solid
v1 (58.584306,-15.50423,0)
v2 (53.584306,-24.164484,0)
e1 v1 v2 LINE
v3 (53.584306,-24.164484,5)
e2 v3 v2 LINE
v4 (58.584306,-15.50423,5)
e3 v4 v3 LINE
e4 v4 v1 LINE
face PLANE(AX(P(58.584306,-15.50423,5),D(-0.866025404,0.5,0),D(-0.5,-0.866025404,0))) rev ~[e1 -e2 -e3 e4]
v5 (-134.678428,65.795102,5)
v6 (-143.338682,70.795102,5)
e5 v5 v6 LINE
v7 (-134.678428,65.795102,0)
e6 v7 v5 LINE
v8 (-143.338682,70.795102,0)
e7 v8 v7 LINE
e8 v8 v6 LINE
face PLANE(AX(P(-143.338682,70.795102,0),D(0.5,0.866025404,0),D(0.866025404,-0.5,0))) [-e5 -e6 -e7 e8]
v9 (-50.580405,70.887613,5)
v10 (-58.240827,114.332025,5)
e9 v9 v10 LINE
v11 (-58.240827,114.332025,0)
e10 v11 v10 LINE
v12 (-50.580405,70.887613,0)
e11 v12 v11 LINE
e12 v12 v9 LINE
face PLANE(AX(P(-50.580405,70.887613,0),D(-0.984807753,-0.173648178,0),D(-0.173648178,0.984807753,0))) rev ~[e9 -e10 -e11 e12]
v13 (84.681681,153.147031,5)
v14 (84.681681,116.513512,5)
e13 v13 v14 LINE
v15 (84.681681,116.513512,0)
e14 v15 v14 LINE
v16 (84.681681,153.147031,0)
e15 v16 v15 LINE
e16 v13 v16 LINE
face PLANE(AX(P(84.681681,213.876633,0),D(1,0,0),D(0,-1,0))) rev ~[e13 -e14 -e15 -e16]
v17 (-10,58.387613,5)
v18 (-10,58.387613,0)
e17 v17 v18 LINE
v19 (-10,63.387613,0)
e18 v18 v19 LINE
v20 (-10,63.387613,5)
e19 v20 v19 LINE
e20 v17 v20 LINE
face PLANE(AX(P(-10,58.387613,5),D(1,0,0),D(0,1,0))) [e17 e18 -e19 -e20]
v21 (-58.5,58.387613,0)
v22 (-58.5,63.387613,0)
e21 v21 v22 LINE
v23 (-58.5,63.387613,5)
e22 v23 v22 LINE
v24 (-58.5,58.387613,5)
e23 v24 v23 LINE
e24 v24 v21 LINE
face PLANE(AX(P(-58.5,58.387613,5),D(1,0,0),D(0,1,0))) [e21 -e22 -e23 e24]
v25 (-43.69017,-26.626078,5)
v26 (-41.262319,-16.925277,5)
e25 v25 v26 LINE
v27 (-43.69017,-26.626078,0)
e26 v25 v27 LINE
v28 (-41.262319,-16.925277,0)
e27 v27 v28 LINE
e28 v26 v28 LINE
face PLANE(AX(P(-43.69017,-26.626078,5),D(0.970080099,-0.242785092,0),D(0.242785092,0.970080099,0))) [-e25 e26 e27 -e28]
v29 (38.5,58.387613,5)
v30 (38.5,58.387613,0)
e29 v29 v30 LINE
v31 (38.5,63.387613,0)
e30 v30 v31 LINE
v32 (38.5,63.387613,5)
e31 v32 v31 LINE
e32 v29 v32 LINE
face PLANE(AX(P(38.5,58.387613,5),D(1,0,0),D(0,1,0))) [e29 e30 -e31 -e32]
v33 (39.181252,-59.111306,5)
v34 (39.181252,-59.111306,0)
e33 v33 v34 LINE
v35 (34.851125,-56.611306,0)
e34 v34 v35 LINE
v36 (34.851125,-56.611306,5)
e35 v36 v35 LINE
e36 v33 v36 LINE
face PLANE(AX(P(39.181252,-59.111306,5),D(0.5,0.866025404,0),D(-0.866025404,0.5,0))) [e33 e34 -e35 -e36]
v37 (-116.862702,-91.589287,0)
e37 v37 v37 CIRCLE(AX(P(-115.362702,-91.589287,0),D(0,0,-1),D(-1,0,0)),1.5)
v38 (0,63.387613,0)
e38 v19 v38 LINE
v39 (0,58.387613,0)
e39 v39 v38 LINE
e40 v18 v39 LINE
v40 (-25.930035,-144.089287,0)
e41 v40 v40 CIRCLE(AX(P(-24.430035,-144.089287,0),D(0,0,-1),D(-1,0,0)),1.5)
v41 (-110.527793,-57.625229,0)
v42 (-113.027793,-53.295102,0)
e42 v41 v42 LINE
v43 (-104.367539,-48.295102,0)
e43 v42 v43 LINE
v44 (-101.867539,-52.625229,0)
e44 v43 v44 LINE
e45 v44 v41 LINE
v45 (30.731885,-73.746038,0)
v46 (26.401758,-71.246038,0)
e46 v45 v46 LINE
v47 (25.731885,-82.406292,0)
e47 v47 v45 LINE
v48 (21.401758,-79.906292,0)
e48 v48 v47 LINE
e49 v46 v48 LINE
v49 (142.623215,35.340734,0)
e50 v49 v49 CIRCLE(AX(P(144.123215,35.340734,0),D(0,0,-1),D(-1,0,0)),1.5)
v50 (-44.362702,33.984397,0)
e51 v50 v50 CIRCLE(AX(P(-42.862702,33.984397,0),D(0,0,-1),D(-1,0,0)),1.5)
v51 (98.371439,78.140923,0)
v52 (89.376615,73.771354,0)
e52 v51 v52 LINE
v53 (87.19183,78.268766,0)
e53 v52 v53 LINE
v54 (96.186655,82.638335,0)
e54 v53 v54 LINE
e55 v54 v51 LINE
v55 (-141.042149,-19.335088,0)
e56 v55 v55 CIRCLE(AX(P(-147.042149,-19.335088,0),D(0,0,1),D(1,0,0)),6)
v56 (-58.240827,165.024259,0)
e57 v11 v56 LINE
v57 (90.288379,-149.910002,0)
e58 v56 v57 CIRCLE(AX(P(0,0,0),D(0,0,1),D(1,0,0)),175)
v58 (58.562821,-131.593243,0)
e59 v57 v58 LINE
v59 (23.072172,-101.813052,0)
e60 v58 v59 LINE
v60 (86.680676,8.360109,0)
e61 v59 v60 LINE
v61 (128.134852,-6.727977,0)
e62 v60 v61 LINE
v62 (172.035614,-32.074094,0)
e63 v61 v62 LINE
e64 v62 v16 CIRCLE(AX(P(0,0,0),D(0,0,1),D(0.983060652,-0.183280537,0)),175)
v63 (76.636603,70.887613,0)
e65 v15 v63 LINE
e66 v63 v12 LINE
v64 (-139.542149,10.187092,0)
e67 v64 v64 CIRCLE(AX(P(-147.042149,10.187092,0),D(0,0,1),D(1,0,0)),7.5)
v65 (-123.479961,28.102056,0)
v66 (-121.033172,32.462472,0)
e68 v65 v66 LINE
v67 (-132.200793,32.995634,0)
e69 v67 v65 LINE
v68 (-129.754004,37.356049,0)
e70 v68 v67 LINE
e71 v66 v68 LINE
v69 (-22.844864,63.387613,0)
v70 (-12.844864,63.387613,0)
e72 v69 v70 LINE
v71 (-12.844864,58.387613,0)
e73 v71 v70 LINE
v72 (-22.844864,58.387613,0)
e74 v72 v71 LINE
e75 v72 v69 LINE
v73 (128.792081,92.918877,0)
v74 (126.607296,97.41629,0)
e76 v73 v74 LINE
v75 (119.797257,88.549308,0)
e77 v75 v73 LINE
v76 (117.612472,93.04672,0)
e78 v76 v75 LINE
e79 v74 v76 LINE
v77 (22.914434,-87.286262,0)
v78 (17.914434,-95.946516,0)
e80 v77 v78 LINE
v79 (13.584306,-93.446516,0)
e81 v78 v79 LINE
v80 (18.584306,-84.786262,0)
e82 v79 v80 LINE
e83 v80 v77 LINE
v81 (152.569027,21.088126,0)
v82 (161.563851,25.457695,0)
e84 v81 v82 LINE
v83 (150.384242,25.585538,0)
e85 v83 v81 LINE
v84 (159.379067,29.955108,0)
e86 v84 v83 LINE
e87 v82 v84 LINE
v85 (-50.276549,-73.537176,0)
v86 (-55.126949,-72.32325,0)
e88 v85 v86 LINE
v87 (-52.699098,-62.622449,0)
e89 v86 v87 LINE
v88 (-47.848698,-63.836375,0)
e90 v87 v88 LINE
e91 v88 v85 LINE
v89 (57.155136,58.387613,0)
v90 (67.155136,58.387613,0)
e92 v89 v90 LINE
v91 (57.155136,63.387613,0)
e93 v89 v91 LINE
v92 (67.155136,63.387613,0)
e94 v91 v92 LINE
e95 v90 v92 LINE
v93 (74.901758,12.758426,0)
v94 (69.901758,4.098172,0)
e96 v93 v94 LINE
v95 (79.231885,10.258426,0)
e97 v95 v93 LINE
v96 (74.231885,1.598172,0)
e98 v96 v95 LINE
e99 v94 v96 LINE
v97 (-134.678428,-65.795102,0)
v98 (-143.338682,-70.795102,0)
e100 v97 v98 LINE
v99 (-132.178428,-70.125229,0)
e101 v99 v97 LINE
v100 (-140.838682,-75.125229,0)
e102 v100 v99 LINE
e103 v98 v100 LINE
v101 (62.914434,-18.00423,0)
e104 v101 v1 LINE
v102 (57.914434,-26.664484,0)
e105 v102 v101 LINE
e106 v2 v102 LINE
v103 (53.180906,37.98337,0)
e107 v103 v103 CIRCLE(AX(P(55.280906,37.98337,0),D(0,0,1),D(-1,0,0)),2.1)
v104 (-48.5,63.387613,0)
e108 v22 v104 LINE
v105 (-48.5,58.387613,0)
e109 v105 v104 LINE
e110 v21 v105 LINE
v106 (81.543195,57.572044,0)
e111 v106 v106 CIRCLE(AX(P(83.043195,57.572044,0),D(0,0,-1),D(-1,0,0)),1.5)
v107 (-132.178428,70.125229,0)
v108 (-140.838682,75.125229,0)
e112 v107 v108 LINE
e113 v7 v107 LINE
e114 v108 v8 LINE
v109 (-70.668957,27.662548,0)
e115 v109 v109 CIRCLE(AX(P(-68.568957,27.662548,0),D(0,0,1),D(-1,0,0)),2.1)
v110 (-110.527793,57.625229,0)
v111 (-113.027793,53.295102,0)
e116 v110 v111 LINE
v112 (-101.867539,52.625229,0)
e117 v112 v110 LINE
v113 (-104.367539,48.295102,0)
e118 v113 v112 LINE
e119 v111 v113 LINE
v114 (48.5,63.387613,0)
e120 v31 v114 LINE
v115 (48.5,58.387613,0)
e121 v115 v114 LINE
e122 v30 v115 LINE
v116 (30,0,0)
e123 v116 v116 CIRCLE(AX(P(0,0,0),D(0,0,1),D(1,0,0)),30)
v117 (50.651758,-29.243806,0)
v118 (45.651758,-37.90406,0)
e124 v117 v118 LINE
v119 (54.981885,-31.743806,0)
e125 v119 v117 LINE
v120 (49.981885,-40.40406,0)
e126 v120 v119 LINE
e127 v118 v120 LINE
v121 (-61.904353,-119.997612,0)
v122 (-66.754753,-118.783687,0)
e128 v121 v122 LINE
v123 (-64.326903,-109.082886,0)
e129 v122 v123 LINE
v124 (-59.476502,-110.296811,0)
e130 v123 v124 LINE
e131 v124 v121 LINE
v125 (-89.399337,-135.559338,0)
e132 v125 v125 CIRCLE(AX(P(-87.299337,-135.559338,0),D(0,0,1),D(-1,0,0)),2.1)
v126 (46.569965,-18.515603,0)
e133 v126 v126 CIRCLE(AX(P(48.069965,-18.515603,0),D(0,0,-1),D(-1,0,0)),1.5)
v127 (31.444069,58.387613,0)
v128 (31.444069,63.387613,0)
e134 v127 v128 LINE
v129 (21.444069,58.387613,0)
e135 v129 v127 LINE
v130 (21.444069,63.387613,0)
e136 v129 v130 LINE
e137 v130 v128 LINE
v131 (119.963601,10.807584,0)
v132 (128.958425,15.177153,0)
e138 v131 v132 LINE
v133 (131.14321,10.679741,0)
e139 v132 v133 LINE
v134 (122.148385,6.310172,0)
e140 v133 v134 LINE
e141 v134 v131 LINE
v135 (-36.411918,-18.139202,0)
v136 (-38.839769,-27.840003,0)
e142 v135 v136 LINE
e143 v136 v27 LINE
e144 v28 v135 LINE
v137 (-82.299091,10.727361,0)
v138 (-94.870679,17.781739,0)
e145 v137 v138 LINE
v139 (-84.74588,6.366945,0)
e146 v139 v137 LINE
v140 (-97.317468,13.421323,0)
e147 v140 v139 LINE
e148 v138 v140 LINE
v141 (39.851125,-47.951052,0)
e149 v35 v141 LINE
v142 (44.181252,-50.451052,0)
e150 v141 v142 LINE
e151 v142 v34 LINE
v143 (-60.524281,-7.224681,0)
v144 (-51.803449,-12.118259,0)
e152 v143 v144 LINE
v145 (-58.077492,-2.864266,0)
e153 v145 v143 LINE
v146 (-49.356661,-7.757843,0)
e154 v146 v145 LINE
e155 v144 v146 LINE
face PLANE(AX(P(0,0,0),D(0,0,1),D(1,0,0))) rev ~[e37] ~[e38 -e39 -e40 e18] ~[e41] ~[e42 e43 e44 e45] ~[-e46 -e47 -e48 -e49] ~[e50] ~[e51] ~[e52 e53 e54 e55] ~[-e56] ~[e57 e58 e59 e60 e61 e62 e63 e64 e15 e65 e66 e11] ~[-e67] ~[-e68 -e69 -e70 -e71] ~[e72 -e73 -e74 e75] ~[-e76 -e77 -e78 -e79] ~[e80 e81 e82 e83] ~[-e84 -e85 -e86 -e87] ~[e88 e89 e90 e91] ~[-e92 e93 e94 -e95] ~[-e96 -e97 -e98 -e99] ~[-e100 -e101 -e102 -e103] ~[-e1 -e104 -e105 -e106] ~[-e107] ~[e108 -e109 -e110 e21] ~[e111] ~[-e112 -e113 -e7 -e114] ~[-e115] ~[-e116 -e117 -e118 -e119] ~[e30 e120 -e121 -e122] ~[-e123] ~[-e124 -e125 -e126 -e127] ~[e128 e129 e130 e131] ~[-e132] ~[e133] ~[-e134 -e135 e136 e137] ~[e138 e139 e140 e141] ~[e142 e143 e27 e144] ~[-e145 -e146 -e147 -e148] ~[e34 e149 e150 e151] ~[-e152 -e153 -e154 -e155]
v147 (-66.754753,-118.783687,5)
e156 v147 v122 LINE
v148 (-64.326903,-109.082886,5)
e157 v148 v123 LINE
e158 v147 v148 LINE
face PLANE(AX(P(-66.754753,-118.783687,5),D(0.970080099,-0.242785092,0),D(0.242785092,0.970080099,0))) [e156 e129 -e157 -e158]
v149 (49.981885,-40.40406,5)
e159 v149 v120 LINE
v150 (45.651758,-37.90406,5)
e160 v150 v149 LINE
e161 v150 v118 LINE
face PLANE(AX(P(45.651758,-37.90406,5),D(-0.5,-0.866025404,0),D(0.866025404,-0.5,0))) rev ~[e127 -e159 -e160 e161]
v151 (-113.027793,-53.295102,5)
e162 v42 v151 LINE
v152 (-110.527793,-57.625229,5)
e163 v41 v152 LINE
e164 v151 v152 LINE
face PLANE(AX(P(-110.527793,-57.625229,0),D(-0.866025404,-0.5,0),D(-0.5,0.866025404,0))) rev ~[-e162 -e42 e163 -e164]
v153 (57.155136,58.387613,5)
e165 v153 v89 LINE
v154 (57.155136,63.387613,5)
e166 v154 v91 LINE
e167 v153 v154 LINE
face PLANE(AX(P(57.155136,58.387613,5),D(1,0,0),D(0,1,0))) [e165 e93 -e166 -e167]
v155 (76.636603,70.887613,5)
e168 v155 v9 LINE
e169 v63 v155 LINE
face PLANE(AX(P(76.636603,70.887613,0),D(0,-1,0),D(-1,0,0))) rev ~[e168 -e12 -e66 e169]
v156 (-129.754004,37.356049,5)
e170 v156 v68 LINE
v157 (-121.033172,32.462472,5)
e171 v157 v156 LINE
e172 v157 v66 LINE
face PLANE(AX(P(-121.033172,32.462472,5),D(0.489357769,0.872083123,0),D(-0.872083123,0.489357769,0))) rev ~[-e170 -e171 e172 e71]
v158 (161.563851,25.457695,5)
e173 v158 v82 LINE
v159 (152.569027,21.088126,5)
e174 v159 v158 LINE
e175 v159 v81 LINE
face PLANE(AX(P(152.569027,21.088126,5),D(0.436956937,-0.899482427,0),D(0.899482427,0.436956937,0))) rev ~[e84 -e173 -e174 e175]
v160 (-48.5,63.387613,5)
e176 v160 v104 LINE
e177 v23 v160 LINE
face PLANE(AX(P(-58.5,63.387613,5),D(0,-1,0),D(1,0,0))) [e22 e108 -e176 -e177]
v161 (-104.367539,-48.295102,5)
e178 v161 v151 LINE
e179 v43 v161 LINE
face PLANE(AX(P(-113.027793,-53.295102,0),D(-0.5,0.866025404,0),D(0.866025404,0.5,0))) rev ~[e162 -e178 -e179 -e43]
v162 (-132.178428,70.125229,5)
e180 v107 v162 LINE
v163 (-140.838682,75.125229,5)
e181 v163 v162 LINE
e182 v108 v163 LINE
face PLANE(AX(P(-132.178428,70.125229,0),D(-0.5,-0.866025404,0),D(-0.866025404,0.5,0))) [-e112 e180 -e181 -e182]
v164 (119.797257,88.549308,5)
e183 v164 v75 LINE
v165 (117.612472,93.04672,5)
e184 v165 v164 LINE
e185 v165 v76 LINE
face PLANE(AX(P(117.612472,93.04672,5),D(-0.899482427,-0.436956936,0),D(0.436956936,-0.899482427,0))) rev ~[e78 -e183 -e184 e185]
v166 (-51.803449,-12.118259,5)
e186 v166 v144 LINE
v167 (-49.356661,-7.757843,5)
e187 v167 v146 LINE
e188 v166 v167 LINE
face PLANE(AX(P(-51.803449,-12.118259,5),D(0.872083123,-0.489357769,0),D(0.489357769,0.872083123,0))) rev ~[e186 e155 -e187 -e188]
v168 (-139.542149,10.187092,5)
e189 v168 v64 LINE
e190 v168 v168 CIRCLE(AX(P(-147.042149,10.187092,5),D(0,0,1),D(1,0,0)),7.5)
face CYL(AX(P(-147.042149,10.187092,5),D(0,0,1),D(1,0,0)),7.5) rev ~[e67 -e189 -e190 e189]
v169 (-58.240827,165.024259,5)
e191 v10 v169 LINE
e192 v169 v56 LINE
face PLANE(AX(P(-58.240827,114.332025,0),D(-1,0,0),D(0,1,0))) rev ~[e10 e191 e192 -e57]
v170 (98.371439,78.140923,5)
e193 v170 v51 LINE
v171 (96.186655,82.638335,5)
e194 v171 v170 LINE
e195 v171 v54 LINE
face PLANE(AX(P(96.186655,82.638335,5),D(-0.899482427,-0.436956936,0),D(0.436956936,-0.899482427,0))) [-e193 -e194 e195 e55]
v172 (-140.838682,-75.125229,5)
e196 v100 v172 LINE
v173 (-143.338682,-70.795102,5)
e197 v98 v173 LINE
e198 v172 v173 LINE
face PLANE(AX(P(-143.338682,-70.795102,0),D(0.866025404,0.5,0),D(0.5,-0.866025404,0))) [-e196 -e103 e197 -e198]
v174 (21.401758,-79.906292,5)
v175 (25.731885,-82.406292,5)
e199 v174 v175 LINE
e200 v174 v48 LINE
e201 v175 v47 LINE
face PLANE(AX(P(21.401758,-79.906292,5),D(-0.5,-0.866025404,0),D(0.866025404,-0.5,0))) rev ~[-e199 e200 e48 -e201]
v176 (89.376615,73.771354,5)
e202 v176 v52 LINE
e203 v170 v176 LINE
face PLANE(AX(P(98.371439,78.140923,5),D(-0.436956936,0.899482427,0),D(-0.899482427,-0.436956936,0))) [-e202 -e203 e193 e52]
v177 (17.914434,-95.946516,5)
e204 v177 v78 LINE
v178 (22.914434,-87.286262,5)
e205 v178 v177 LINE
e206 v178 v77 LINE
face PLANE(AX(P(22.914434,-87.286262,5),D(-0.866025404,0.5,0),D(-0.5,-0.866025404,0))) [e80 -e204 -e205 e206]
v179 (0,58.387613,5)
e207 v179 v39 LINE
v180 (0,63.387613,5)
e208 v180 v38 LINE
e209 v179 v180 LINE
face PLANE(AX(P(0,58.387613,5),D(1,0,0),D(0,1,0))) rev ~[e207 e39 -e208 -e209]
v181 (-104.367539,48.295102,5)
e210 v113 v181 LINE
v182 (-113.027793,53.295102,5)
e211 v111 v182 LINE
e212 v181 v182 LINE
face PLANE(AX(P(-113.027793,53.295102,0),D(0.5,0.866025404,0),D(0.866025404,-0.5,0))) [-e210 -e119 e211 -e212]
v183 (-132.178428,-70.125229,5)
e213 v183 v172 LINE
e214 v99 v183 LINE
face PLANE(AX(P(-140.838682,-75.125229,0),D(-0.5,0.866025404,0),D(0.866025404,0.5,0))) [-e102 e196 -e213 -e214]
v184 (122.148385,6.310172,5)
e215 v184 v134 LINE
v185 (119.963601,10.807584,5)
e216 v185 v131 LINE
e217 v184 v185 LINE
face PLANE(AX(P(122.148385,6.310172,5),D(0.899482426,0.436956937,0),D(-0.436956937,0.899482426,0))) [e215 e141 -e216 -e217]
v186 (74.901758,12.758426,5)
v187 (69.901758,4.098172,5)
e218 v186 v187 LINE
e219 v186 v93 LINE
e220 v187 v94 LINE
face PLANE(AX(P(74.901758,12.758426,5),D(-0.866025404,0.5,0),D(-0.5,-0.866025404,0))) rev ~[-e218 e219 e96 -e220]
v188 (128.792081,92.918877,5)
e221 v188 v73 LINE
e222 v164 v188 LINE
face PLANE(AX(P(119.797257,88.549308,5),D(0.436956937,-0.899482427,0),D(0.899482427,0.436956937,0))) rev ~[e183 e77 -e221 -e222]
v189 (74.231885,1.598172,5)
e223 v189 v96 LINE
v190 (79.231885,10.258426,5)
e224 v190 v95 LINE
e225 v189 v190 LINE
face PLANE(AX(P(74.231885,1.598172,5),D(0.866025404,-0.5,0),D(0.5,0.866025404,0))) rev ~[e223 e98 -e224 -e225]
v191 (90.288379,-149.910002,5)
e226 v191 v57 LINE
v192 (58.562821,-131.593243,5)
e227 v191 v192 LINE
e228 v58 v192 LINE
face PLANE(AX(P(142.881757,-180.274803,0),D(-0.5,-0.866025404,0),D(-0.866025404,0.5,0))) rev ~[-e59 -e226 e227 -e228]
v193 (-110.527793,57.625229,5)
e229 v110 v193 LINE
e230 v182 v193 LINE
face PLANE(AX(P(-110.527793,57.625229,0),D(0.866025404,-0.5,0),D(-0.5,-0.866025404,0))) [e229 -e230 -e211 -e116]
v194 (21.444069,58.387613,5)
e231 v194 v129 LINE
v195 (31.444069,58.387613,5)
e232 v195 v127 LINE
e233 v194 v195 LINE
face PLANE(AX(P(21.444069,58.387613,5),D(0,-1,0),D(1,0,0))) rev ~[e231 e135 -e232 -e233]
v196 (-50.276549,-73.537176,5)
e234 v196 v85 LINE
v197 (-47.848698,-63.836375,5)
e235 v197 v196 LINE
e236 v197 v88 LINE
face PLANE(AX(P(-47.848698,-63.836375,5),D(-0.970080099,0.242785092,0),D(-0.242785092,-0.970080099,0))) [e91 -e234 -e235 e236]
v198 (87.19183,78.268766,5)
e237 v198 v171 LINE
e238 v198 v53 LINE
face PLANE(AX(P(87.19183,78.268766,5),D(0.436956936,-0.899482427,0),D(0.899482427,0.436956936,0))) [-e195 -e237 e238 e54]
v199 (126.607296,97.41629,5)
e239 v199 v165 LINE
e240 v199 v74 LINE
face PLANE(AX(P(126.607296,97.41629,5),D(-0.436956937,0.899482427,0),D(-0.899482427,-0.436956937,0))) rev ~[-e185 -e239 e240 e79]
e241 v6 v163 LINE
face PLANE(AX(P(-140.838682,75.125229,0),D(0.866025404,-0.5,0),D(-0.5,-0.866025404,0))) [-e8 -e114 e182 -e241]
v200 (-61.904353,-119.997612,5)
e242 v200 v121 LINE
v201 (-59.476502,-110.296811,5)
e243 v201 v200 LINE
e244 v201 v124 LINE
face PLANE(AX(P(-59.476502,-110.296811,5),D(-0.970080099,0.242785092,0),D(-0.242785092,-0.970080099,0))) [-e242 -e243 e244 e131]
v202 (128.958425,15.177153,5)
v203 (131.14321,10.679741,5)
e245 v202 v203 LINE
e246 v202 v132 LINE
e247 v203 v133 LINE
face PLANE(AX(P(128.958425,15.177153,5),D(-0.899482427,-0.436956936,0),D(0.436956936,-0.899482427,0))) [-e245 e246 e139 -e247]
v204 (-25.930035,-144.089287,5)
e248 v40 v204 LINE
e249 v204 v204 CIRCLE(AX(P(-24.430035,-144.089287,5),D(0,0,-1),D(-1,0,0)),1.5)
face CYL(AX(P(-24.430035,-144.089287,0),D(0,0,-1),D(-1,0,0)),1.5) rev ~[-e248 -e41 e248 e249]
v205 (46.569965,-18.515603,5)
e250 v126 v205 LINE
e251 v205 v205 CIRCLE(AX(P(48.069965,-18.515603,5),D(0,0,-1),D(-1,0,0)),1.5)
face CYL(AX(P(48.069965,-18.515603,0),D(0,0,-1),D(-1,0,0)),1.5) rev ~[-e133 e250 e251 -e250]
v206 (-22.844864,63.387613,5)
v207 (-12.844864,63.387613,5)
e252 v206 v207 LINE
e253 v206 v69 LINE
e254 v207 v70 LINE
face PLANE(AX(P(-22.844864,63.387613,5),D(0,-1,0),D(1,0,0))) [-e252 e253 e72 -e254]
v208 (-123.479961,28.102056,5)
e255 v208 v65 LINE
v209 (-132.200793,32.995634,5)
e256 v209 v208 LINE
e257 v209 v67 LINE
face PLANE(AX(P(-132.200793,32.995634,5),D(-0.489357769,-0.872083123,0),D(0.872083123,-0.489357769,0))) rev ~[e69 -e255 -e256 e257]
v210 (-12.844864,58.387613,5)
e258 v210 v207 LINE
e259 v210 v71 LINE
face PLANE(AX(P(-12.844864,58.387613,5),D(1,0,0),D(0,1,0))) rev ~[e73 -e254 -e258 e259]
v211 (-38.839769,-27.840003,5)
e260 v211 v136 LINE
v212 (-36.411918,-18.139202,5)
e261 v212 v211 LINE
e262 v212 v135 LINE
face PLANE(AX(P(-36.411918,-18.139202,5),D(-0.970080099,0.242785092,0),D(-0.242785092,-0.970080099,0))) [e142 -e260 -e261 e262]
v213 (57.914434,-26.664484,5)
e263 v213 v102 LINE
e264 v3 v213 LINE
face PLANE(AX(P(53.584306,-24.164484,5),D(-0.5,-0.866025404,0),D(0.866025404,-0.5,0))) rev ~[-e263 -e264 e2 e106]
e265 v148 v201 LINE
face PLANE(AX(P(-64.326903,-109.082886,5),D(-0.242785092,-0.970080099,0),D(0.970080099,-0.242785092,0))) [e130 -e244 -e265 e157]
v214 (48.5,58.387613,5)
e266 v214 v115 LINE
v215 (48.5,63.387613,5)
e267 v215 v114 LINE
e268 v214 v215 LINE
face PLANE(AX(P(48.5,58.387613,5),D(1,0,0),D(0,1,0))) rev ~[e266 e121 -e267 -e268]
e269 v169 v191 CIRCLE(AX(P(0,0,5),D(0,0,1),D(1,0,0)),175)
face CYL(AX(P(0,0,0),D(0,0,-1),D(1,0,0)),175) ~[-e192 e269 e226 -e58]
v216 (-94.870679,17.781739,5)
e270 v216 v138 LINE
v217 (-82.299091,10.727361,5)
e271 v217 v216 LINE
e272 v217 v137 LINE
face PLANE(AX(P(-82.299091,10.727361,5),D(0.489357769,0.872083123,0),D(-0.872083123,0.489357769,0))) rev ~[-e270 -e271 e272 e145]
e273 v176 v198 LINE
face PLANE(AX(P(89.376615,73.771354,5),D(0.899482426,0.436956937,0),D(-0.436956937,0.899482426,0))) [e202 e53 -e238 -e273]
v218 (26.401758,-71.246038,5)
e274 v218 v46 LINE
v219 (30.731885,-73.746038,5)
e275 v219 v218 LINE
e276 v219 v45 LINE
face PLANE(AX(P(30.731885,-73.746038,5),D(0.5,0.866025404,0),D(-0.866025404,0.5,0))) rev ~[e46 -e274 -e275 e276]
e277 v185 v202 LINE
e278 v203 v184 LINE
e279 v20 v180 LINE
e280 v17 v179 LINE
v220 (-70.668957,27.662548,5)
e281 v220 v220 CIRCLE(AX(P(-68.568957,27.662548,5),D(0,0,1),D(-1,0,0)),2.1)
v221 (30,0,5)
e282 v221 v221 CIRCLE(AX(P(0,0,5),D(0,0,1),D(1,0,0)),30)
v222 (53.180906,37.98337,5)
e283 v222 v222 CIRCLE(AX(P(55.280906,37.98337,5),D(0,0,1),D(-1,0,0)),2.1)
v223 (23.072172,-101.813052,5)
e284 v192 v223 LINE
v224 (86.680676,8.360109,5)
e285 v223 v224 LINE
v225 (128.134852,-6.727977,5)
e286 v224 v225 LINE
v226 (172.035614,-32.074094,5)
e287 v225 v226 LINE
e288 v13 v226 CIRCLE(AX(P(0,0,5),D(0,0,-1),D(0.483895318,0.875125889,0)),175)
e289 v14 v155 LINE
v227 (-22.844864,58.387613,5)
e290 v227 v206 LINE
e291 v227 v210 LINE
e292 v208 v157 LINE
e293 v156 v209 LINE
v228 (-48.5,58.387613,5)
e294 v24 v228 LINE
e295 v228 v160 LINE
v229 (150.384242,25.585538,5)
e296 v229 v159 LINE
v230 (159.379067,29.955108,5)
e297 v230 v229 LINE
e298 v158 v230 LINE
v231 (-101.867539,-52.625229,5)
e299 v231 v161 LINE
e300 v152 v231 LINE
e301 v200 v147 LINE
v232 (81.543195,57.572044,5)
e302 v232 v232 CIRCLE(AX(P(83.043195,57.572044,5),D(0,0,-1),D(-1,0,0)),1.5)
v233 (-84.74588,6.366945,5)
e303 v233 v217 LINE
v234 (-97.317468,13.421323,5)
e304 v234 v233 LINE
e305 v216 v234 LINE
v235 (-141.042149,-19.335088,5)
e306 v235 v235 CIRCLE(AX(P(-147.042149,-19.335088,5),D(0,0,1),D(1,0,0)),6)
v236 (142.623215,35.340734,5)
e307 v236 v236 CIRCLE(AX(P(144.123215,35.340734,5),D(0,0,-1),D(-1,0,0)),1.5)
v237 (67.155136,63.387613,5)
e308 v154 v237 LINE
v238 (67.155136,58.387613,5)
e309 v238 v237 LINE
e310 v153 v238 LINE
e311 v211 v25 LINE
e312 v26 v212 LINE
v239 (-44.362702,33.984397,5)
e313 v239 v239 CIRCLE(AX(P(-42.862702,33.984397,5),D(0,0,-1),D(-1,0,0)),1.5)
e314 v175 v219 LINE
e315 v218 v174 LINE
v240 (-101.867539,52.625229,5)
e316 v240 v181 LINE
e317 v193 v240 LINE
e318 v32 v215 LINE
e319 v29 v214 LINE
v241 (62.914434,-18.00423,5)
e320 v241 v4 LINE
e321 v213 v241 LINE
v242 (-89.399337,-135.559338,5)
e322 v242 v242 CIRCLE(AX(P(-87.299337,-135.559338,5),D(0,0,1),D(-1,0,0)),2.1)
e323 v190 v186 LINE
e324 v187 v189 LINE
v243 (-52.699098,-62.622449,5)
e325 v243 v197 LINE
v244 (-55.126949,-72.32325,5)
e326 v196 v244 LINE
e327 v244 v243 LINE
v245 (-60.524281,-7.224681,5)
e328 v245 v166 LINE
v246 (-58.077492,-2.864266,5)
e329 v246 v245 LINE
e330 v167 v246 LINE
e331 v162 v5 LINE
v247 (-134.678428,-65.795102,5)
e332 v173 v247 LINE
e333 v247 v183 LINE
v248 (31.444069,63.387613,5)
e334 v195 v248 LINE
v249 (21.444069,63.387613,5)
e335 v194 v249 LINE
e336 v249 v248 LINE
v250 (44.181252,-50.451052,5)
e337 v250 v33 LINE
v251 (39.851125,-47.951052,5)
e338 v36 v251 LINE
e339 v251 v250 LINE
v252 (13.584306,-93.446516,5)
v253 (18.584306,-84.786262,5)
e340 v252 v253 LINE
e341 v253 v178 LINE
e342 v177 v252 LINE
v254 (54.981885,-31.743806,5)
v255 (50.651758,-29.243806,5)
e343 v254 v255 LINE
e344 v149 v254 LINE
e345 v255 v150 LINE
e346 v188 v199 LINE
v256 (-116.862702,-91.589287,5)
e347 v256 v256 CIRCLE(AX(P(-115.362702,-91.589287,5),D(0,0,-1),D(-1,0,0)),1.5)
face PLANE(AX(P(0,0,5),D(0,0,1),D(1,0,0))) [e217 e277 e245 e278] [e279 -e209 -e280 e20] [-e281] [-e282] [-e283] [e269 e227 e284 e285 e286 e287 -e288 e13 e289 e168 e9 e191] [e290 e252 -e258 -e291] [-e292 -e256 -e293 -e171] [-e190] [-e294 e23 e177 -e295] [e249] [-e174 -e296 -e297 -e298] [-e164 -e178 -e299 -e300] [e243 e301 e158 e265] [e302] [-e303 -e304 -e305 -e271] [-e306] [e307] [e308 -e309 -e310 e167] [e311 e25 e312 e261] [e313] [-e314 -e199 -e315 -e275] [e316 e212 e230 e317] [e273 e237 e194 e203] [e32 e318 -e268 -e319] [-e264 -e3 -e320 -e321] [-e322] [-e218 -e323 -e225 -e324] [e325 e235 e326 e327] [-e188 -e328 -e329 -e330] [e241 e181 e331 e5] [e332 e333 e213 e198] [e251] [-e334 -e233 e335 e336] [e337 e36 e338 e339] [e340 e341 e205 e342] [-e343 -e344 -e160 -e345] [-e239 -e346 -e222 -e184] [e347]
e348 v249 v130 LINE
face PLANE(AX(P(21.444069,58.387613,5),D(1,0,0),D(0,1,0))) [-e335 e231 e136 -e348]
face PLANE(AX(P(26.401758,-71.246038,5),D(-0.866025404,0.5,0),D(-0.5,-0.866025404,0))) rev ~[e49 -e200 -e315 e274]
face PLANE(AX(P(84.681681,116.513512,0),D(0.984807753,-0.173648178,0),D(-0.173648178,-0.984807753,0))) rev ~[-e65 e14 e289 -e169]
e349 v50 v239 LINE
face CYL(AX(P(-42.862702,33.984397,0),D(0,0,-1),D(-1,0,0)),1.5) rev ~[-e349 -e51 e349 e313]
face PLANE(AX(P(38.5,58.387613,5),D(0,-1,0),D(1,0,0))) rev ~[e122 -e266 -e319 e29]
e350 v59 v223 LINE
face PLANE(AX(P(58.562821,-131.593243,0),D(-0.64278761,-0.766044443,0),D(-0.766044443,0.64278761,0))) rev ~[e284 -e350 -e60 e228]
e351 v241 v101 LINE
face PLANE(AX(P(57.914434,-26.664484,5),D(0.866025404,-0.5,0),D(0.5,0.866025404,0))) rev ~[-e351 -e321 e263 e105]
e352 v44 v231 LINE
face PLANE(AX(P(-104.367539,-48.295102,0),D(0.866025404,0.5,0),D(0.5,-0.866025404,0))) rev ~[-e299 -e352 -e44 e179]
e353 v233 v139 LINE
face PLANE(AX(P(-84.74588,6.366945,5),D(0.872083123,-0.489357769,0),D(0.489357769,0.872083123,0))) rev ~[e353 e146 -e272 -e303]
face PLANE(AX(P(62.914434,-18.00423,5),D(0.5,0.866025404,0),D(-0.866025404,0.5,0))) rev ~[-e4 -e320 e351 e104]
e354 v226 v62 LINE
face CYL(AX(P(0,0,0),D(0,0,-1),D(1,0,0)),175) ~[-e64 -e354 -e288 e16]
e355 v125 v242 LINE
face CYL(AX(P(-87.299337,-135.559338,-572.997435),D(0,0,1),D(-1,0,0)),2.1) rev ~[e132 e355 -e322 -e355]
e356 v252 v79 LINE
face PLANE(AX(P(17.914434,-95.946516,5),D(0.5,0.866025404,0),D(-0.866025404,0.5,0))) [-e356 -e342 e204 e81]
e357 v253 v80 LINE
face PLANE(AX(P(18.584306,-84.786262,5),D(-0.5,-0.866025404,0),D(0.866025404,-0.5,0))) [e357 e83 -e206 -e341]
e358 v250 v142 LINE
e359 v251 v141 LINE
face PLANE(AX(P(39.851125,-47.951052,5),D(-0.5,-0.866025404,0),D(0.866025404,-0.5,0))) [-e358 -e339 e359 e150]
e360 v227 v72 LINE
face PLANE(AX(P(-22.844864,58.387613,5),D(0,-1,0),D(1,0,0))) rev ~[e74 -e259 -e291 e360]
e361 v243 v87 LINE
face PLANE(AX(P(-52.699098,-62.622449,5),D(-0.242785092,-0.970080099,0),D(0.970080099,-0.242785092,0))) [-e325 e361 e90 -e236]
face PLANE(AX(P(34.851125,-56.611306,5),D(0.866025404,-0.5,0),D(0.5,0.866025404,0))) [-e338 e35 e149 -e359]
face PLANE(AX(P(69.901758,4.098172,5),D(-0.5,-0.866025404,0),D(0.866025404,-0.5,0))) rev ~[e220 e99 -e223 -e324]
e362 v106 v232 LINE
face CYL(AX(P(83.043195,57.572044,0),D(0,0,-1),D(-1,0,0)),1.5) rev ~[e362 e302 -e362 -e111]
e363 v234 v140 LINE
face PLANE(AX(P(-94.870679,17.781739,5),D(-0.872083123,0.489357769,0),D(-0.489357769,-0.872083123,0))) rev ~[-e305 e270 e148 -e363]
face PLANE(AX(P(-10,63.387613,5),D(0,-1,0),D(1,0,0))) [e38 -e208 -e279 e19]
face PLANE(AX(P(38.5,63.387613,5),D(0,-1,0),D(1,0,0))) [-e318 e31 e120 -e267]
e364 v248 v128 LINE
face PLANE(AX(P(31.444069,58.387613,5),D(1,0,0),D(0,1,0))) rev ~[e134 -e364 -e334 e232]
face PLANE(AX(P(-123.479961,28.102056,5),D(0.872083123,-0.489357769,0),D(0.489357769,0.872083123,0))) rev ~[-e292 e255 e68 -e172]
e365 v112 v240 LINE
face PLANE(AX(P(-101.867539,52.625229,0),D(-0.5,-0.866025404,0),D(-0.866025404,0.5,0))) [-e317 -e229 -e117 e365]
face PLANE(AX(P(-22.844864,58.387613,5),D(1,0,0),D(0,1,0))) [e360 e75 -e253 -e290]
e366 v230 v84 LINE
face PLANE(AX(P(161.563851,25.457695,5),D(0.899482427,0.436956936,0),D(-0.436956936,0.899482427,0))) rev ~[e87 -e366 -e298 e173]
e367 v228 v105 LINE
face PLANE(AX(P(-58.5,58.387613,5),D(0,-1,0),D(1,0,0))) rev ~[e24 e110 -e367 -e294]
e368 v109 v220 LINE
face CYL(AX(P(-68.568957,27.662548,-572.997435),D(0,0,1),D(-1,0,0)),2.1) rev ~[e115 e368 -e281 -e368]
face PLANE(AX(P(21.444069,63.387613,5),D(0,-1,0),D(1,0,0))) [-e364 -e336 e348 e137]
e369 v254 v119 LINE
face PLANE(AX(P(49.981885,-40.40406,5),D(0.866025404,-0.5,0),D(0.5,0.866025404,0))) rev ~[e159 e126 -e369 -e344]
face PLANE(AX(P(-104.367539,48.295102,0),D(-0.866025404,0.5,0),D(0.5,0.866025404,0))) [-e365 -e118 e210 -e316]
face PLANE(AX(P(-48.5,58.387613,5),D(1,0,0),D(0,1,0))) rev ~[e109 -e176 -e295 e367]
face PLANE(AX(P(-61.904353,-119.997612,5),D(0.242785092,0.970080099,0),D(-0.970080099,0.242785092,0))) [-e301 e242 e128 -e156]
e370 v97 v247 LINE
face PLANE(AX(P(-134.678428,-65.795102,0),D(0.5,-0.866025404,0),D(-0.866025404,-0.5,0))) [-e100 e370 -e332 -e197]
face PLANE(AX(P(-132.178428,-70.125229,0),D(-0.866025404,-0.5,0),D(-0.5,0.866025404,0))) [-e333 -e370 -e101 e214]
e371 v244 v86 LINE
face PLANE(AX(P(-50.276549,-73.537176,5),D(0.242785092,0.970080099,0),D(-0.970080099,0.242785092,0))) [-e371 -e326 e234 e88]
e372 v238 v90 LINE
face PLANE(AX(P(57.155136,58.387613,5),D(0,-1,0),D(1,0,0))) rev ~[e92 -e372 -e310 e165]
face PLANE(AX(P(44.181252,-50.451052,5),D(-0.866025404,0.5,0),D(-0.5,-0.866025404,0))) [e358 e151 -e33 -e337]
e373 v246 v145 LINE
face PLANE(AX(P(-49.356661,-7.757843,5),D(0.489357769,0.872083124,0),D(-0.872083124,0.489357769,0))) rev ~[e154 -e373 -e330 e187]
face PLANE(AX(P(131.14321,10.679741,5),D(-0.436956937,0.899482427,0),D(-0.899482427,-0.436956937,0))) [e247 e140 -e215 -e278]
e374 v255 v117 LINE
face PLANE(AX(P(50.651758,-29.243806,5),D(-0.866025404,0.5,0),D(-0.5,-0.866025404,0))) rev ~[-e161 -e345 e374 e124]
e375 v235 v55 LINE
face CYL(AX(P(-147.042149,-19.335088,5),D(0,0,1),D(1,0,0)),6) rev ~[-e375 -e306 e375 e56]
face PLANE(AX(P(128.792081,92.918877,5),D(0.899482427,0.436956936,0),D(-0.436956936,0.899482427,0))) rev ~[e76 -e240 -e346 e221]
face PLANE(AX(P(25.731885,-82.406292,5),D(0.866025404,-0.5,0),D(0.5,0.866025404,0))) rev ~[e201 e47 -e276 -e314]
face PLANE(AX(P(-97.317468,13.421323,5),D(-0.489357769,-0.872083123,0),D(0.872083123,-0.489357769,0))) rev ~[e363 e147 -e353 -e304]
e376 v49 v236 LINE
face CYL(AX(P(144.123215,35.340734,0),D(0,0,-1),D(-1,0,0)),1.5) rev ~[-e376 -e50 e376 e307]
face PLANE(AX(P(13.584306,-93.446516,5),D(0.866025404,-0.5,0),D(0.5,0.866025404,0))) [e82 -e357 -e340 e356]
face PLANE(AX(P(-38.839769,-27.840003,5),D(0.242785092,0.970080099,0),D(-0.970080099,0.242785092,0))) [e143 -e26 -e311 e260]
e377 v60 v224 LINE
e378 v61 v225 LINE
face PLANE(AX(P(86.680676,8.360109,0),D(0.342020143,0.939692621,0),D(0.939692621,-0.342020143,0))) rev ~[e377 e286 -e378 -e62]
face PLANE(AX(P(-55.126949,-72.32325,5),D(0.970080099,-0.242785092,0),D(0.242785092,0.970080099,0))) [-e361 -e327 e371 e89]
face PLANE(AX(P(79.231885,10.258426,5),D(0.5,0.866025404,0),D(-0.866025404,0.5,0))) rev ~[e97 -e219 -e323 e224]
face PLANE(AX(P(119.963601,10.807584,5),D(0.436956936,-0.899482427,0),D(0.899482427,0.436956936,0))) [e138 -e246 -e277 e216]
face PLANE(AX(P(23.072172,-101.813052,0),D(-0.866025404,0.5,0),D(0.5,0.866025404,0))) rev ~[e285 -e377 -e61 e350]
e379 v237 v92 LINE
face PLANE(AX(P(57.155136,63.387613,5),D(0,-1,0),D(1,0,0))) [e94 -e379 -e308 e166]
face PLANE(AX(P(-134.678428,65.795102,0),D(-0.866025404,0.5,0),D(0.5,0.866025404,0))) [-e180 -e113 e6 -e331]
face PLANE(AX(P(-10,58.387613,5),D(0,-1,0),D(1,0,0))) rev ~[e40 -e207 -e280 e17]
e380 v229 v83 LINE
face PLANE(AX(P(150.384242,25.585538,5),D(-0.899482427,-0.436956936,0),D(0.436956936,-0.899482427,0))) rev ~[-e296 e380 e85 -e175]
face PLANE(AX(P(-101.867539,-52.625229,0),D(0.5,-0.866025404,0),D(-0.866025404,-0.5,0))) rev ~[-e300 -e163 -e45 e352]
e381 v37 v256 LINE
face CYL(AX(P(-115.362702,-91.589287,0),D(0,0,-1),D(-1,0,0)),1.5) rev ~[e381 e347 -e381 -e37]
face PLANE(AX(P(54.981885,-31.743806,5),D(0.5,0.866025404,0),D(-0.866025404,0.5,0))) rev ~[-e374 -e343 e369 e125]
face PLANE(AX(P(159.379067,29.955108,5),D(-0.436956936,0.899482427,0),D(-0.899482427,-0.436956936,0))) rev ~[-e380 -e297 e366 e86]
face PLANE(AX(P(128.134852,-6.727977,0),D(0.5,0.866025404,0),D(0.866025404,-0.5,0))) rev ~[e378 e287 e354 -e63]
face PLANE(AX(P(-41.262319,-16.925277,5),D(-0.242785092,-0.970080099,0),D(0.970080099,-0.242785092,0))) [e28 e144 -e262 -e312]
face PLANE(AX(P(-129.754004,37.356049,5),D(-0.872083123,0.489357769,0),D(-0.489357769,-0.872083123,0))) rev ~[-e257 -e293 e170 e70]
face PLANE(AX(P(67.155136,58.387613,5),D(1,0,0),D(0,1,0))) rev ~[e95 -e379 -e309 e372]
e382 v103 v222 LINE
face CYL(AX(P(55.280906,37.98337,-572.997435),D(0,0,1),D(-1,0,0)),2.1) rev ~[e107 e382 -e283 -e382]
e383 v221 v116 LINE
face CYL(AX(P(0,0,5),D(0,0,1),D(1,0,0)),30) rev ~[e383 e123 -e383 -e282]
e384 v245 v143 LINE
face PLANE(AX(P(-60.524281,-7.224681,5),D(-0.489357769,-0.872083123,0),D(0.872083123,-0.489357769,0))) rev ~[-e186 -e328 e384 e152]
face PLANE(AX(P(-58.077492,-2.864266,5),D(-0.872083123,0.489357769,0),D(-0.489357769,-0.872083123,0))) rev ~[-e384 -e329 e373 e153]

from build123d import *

# Parameters (mm, degrees)
ESQUISSE1_R             = 175
BOSS_EXTRU_1_DEPTH      = 5
ENL_V_MAT_EXTRU_1_DEPTH = 5
ESQUISSE3_W             = 10
ESQUISSE3_H             = 5
ENL_V_MAT_EXTRU_2_DEPTH = 10
ESQUISSE4_R             = 1.5
ENL_V_MAT_EXTRU_3_DEPTH = 10
ENL_V_MAT_EXTRU_4_DEPTH = 10
ESQUISSE6_W             = 10
ESQUISSE6_H             = 5
ENL_V_MAT_EXTRU_5_DEPTH = 5
TROU_TARAUD_M51_D       = 4.2
ESQUISSE10_R            = 30
ESQUISSE10_R_2          = 6
ESQUISSE10_R_3          = 7.5
ENL_V_MAT_EXTRU_6_DEPTH = 5
ESQUISSE11_R            = 1.5
ENL_V_MAT_EXTRU_7_DEPTH = 10


with BuildPart() as part:
    # Esquisse1 → Boss.-Extru.1 (new body)
    with BuildSketch(Plane.XY):
        Circle(ESQUISSE1_R)
    extrude(amount=BOSS_EXTRU_1_DEPTH)

    # Esquisse2 → Enlèv. mat.-Extru.1 (cut)
    with BuildSketch(Plane(origin=(0, 0, 0), x_dir=(-1, 0, 0), z_dir=(0, 0, -1))):
        Polygon((58.240826849, 114.332025077), (58.240826849, 213.87663255), (-84.681680643, 213.87663255), (-84.681680643, 116.513512453), (-76.636603499, 70.887612711), (50.580404788, 70.887612711), align=None)
        Polygon((-128.134851608, -6.727976949), (-214.343010489, -56.500280686), (-142.881756743, -180.274802947), (-58.562821347, -131.593242898), (-23.072171671, -101.813051845), (-86.680675815, 8.360109125), align=None)
    extrude(amount=-ENL_V_MAT_EXTRU_1_DEPTH, mode=Mode.SUBTRACT)

    # Esquisse3 → Enlèv. mat.-Extru.2 (cut)
    with BuildSketch(Plane.XY.offset(5)):
        Polygon((-49.356660547, -7.757843325), (-58.077491782, -2.864265639), (-60.524280625, -7.224681256), (-51.803449391, -12.118258943), align=None)
        Polygon((-82.29909118, 10.727360567), (-94.870678761, 17.781738621), (-97.317467605, 13.421323004), (-84.745880023, 6.36694495), align=None)
        Polygon((-121.033172465, 32.462471681), (-129.7540037, 37.356049368), (-132.200792544, 32.995633751), (-123.479961309, 28.102056064), align=None)
        Polygon((-36.411918308, -18.139201989), (-38.839769225, -27.840002983), (-43.690169722, -26.626077525), (-41.262318805, -16.925276531), align=None)
        Polygon((-47.8486979, -63.836374764), (-50.276548817, -73.537175758), (-55.126949314, -72.323250299), (-52.699098397, -62.622449305), align=None)
        Polygon((-59.476502021, -110.296811432), (-61.904352938, -119.997612426), (-66.754753435, -118.783686967), (-64.326902518, -109.082885973), align=None)
        Polygon((62.914433511, -18.00423005), (58.584306492, -15.50423005), (53.584306492, -24.164484088), (57.914433511, -26.664484088), align=None)
        Polygon((39.851125271, -47.951051713), (44.18125229, -50.451051713), (39.18125229, -59.11130575), (34.851125271, -56.61130575), align=None)
        Polygon((18.584306492, -84.786262353), (22.914433511, -87.286262353), (17.914433511, -95.946516391), (13.584306492, -93.446516391), align=None)
        with Locations((62.155135581, 60.887612711)):
            Rectangle(ESQUISSE3_W, ESQUISSE3_H)
        with Locations((-17.844864419, 60.887612711)):
            Rectangle(ESQUISSE3_W, ESQUISSE3_H)
        with Locations((26.44406925, 60.887612711)):
            Rectangle(ESQUISSE3_W, ESQUISSE3_H)
        Polygon((122.148385312, 6.310171572), (119.963600629, 10.807583704), (128.958424895, 15.177153069), (131.143209577, 10.679740937), align=None)
        Polygon((159.379066535, 29.955107573), (150.38424227, 25.585538209), (152.569026952, 21.088126076), (161.563851217, 25.457695441), align=None)
        Polygon((126.607296299, 97.416289564), (117.612472034, 93.046720199), (119.797256716, 88.549308067), (128.792080981, 92.918877432), align=None)
        Polygon((96.186654659, 82.63833506), (98.371439341, 78.140922927), (89.376615076, 73.771353563), (87.191830393, 78.268765695), align=None)
    extrude(amount=-ENL_V_MAT_EXTRU_2_DEPTH, mode=Mode.SUBTRACT)

    # Esquisse4 → Enlèv. mat.-Extru.3 (cut)
    with BuildSketch(Plane(origin=(0, 0, 0), x_dir=(-1, 0, 0), z_dir=(0, 0, -1))):
        with Locations((115.362702052, -91.589286674)):
            Circle(ESQUISSE4_R)
        with Locations((24.430034655, -144.089286674)):
            Circle(ESQUISSE4_R)
        with Locations((-48.069965345, -18.515603125)):
            Circle(ESQUISSE4_R)
        with Locations((42.862702052, 33.984396875)):
            Circle(ESQUISSE4_R)
    extrude(amount=-ENL_V_MAT_EXTRU_3_DEPTH, mode=Mode.SUBTRACT)

    # Esquisse5 → Enlèv. mat.-Extru.4 (cut)
    with BuildSketch(Plane(origin=(0, 0, 0), x_dir=(-1, 0, 0), z_dir=(0, 0, -1))):
        Polygon((132.178427666, -70.125229259), (134.678427666, -65.79510224), (143.338681704, -70.79510224), (140.838681704, -75.125229259), align=None)
        Polygon((110.527792572, -57.625229259), (113.027792572, -53.29510224), (104.367538534, -48.29510224), (101.867538534, -52.625229259), align=None)
        Polygon((134.678427666, 65.79510224), (132.178427666, 70.125229259), (140.838681704, 75.125229259), (143.338681704, 70.79510224), align=None)
        Polygon((110.527792572, 57.625229259), (113.027792572, 53.29510224), (104.367538534, 48.29510224), (101.867538534, 52.625229259), align=None)
    extrude(amount=-ENL_V_MAT_EXTRU_4_DEPTH, mode=Mode.SUBTRACT)

    # Esquisse6 → Enlèv. mat.-Extru.5 (cut)
    with BuildSketch(Plane.XY.offset(5)):
        Polygon((25.731885433, -82.406292477), (30.731885433, -73.746038439), (26.401758414, -71.246038439), (21.401758414, -79.906292477), align=None)
        Polygon((49.981885433, -40.404060393), (54.981885433, -31.743806355), (50.651758414, -29.243806355), (45.651758414, -37.904060393), align=None)
        with Locations((43.5, 60.887612711)):
            Rectangle(ESQUISSE6_W, ESQUISSE6_H)
        Polygon((74.901758414, 12.758425728), (69.901758414, 4.09817169), (74.231885433, 1.59817169), (79.231885433, 10.258425728), align=None)
        with Locations((-5, 60.887612711)):
            Rectangle(ESQUISSE6_W, ESQUISSE6_H)
        with Locations((-53.5, 60.887612711)):
            Rectangle(ESQUISSE6_W, ESQUISSE6_H)
    extrude(amount=-ENL_V_MAT_EXTRU_5_DEPTH, mode=Mode.SUBTRACT)

    # Trou taraudé M51 (through all)
    with Locations(Plane(origin=(0, 0, -85), x_dir=(1, 0, 0), z_dir=(0, 0, -1))):
        with Locations((-68.568956805, -27.662548456), (55.280905682, -37.98337033), (-87.299337242, 135.559338217)):
            Hole(TROU_TARAUD_M51_D / 2)

    # Esquisse10 → Enlèv. mat.-Extru.6 (cut)
    with BuildSketch(Plane.XY.offset(5)):
        Circle(ESQUISSE10_R)
        with Locations((-147.042149298, -19.335087814)):
            Circle(ESQUISSE10_R_2)
        with Locations((-147.042149298, 10.187091802)):
            Circle(ESQUISSE10_R_3)
    extrude(amount=-ENL_V_MAT_EXTRU_6_DEPTH, mode=Mode.SUBTRACT)

    # Esquisse11 → Enlèv. mat.-Extru.7 (cut)
    with BuildSketch(Plane(origin=(0, 0, 0), x_dir=(-1, 0, 0), z_dir=(0, 0, -1))):
        with Locations((-144.123215362, 35.340734311)):
            Circle(ESQUISSE11_R)
        with Locations((-83.043195011, 57.572043627)):
            Circle(ESQUISSE11_R)
    extrude(amount=-ENL_V_MAT_EXTRU_7_DEPTH, mode=Mode.SUBTRACT)


solid = part.part
